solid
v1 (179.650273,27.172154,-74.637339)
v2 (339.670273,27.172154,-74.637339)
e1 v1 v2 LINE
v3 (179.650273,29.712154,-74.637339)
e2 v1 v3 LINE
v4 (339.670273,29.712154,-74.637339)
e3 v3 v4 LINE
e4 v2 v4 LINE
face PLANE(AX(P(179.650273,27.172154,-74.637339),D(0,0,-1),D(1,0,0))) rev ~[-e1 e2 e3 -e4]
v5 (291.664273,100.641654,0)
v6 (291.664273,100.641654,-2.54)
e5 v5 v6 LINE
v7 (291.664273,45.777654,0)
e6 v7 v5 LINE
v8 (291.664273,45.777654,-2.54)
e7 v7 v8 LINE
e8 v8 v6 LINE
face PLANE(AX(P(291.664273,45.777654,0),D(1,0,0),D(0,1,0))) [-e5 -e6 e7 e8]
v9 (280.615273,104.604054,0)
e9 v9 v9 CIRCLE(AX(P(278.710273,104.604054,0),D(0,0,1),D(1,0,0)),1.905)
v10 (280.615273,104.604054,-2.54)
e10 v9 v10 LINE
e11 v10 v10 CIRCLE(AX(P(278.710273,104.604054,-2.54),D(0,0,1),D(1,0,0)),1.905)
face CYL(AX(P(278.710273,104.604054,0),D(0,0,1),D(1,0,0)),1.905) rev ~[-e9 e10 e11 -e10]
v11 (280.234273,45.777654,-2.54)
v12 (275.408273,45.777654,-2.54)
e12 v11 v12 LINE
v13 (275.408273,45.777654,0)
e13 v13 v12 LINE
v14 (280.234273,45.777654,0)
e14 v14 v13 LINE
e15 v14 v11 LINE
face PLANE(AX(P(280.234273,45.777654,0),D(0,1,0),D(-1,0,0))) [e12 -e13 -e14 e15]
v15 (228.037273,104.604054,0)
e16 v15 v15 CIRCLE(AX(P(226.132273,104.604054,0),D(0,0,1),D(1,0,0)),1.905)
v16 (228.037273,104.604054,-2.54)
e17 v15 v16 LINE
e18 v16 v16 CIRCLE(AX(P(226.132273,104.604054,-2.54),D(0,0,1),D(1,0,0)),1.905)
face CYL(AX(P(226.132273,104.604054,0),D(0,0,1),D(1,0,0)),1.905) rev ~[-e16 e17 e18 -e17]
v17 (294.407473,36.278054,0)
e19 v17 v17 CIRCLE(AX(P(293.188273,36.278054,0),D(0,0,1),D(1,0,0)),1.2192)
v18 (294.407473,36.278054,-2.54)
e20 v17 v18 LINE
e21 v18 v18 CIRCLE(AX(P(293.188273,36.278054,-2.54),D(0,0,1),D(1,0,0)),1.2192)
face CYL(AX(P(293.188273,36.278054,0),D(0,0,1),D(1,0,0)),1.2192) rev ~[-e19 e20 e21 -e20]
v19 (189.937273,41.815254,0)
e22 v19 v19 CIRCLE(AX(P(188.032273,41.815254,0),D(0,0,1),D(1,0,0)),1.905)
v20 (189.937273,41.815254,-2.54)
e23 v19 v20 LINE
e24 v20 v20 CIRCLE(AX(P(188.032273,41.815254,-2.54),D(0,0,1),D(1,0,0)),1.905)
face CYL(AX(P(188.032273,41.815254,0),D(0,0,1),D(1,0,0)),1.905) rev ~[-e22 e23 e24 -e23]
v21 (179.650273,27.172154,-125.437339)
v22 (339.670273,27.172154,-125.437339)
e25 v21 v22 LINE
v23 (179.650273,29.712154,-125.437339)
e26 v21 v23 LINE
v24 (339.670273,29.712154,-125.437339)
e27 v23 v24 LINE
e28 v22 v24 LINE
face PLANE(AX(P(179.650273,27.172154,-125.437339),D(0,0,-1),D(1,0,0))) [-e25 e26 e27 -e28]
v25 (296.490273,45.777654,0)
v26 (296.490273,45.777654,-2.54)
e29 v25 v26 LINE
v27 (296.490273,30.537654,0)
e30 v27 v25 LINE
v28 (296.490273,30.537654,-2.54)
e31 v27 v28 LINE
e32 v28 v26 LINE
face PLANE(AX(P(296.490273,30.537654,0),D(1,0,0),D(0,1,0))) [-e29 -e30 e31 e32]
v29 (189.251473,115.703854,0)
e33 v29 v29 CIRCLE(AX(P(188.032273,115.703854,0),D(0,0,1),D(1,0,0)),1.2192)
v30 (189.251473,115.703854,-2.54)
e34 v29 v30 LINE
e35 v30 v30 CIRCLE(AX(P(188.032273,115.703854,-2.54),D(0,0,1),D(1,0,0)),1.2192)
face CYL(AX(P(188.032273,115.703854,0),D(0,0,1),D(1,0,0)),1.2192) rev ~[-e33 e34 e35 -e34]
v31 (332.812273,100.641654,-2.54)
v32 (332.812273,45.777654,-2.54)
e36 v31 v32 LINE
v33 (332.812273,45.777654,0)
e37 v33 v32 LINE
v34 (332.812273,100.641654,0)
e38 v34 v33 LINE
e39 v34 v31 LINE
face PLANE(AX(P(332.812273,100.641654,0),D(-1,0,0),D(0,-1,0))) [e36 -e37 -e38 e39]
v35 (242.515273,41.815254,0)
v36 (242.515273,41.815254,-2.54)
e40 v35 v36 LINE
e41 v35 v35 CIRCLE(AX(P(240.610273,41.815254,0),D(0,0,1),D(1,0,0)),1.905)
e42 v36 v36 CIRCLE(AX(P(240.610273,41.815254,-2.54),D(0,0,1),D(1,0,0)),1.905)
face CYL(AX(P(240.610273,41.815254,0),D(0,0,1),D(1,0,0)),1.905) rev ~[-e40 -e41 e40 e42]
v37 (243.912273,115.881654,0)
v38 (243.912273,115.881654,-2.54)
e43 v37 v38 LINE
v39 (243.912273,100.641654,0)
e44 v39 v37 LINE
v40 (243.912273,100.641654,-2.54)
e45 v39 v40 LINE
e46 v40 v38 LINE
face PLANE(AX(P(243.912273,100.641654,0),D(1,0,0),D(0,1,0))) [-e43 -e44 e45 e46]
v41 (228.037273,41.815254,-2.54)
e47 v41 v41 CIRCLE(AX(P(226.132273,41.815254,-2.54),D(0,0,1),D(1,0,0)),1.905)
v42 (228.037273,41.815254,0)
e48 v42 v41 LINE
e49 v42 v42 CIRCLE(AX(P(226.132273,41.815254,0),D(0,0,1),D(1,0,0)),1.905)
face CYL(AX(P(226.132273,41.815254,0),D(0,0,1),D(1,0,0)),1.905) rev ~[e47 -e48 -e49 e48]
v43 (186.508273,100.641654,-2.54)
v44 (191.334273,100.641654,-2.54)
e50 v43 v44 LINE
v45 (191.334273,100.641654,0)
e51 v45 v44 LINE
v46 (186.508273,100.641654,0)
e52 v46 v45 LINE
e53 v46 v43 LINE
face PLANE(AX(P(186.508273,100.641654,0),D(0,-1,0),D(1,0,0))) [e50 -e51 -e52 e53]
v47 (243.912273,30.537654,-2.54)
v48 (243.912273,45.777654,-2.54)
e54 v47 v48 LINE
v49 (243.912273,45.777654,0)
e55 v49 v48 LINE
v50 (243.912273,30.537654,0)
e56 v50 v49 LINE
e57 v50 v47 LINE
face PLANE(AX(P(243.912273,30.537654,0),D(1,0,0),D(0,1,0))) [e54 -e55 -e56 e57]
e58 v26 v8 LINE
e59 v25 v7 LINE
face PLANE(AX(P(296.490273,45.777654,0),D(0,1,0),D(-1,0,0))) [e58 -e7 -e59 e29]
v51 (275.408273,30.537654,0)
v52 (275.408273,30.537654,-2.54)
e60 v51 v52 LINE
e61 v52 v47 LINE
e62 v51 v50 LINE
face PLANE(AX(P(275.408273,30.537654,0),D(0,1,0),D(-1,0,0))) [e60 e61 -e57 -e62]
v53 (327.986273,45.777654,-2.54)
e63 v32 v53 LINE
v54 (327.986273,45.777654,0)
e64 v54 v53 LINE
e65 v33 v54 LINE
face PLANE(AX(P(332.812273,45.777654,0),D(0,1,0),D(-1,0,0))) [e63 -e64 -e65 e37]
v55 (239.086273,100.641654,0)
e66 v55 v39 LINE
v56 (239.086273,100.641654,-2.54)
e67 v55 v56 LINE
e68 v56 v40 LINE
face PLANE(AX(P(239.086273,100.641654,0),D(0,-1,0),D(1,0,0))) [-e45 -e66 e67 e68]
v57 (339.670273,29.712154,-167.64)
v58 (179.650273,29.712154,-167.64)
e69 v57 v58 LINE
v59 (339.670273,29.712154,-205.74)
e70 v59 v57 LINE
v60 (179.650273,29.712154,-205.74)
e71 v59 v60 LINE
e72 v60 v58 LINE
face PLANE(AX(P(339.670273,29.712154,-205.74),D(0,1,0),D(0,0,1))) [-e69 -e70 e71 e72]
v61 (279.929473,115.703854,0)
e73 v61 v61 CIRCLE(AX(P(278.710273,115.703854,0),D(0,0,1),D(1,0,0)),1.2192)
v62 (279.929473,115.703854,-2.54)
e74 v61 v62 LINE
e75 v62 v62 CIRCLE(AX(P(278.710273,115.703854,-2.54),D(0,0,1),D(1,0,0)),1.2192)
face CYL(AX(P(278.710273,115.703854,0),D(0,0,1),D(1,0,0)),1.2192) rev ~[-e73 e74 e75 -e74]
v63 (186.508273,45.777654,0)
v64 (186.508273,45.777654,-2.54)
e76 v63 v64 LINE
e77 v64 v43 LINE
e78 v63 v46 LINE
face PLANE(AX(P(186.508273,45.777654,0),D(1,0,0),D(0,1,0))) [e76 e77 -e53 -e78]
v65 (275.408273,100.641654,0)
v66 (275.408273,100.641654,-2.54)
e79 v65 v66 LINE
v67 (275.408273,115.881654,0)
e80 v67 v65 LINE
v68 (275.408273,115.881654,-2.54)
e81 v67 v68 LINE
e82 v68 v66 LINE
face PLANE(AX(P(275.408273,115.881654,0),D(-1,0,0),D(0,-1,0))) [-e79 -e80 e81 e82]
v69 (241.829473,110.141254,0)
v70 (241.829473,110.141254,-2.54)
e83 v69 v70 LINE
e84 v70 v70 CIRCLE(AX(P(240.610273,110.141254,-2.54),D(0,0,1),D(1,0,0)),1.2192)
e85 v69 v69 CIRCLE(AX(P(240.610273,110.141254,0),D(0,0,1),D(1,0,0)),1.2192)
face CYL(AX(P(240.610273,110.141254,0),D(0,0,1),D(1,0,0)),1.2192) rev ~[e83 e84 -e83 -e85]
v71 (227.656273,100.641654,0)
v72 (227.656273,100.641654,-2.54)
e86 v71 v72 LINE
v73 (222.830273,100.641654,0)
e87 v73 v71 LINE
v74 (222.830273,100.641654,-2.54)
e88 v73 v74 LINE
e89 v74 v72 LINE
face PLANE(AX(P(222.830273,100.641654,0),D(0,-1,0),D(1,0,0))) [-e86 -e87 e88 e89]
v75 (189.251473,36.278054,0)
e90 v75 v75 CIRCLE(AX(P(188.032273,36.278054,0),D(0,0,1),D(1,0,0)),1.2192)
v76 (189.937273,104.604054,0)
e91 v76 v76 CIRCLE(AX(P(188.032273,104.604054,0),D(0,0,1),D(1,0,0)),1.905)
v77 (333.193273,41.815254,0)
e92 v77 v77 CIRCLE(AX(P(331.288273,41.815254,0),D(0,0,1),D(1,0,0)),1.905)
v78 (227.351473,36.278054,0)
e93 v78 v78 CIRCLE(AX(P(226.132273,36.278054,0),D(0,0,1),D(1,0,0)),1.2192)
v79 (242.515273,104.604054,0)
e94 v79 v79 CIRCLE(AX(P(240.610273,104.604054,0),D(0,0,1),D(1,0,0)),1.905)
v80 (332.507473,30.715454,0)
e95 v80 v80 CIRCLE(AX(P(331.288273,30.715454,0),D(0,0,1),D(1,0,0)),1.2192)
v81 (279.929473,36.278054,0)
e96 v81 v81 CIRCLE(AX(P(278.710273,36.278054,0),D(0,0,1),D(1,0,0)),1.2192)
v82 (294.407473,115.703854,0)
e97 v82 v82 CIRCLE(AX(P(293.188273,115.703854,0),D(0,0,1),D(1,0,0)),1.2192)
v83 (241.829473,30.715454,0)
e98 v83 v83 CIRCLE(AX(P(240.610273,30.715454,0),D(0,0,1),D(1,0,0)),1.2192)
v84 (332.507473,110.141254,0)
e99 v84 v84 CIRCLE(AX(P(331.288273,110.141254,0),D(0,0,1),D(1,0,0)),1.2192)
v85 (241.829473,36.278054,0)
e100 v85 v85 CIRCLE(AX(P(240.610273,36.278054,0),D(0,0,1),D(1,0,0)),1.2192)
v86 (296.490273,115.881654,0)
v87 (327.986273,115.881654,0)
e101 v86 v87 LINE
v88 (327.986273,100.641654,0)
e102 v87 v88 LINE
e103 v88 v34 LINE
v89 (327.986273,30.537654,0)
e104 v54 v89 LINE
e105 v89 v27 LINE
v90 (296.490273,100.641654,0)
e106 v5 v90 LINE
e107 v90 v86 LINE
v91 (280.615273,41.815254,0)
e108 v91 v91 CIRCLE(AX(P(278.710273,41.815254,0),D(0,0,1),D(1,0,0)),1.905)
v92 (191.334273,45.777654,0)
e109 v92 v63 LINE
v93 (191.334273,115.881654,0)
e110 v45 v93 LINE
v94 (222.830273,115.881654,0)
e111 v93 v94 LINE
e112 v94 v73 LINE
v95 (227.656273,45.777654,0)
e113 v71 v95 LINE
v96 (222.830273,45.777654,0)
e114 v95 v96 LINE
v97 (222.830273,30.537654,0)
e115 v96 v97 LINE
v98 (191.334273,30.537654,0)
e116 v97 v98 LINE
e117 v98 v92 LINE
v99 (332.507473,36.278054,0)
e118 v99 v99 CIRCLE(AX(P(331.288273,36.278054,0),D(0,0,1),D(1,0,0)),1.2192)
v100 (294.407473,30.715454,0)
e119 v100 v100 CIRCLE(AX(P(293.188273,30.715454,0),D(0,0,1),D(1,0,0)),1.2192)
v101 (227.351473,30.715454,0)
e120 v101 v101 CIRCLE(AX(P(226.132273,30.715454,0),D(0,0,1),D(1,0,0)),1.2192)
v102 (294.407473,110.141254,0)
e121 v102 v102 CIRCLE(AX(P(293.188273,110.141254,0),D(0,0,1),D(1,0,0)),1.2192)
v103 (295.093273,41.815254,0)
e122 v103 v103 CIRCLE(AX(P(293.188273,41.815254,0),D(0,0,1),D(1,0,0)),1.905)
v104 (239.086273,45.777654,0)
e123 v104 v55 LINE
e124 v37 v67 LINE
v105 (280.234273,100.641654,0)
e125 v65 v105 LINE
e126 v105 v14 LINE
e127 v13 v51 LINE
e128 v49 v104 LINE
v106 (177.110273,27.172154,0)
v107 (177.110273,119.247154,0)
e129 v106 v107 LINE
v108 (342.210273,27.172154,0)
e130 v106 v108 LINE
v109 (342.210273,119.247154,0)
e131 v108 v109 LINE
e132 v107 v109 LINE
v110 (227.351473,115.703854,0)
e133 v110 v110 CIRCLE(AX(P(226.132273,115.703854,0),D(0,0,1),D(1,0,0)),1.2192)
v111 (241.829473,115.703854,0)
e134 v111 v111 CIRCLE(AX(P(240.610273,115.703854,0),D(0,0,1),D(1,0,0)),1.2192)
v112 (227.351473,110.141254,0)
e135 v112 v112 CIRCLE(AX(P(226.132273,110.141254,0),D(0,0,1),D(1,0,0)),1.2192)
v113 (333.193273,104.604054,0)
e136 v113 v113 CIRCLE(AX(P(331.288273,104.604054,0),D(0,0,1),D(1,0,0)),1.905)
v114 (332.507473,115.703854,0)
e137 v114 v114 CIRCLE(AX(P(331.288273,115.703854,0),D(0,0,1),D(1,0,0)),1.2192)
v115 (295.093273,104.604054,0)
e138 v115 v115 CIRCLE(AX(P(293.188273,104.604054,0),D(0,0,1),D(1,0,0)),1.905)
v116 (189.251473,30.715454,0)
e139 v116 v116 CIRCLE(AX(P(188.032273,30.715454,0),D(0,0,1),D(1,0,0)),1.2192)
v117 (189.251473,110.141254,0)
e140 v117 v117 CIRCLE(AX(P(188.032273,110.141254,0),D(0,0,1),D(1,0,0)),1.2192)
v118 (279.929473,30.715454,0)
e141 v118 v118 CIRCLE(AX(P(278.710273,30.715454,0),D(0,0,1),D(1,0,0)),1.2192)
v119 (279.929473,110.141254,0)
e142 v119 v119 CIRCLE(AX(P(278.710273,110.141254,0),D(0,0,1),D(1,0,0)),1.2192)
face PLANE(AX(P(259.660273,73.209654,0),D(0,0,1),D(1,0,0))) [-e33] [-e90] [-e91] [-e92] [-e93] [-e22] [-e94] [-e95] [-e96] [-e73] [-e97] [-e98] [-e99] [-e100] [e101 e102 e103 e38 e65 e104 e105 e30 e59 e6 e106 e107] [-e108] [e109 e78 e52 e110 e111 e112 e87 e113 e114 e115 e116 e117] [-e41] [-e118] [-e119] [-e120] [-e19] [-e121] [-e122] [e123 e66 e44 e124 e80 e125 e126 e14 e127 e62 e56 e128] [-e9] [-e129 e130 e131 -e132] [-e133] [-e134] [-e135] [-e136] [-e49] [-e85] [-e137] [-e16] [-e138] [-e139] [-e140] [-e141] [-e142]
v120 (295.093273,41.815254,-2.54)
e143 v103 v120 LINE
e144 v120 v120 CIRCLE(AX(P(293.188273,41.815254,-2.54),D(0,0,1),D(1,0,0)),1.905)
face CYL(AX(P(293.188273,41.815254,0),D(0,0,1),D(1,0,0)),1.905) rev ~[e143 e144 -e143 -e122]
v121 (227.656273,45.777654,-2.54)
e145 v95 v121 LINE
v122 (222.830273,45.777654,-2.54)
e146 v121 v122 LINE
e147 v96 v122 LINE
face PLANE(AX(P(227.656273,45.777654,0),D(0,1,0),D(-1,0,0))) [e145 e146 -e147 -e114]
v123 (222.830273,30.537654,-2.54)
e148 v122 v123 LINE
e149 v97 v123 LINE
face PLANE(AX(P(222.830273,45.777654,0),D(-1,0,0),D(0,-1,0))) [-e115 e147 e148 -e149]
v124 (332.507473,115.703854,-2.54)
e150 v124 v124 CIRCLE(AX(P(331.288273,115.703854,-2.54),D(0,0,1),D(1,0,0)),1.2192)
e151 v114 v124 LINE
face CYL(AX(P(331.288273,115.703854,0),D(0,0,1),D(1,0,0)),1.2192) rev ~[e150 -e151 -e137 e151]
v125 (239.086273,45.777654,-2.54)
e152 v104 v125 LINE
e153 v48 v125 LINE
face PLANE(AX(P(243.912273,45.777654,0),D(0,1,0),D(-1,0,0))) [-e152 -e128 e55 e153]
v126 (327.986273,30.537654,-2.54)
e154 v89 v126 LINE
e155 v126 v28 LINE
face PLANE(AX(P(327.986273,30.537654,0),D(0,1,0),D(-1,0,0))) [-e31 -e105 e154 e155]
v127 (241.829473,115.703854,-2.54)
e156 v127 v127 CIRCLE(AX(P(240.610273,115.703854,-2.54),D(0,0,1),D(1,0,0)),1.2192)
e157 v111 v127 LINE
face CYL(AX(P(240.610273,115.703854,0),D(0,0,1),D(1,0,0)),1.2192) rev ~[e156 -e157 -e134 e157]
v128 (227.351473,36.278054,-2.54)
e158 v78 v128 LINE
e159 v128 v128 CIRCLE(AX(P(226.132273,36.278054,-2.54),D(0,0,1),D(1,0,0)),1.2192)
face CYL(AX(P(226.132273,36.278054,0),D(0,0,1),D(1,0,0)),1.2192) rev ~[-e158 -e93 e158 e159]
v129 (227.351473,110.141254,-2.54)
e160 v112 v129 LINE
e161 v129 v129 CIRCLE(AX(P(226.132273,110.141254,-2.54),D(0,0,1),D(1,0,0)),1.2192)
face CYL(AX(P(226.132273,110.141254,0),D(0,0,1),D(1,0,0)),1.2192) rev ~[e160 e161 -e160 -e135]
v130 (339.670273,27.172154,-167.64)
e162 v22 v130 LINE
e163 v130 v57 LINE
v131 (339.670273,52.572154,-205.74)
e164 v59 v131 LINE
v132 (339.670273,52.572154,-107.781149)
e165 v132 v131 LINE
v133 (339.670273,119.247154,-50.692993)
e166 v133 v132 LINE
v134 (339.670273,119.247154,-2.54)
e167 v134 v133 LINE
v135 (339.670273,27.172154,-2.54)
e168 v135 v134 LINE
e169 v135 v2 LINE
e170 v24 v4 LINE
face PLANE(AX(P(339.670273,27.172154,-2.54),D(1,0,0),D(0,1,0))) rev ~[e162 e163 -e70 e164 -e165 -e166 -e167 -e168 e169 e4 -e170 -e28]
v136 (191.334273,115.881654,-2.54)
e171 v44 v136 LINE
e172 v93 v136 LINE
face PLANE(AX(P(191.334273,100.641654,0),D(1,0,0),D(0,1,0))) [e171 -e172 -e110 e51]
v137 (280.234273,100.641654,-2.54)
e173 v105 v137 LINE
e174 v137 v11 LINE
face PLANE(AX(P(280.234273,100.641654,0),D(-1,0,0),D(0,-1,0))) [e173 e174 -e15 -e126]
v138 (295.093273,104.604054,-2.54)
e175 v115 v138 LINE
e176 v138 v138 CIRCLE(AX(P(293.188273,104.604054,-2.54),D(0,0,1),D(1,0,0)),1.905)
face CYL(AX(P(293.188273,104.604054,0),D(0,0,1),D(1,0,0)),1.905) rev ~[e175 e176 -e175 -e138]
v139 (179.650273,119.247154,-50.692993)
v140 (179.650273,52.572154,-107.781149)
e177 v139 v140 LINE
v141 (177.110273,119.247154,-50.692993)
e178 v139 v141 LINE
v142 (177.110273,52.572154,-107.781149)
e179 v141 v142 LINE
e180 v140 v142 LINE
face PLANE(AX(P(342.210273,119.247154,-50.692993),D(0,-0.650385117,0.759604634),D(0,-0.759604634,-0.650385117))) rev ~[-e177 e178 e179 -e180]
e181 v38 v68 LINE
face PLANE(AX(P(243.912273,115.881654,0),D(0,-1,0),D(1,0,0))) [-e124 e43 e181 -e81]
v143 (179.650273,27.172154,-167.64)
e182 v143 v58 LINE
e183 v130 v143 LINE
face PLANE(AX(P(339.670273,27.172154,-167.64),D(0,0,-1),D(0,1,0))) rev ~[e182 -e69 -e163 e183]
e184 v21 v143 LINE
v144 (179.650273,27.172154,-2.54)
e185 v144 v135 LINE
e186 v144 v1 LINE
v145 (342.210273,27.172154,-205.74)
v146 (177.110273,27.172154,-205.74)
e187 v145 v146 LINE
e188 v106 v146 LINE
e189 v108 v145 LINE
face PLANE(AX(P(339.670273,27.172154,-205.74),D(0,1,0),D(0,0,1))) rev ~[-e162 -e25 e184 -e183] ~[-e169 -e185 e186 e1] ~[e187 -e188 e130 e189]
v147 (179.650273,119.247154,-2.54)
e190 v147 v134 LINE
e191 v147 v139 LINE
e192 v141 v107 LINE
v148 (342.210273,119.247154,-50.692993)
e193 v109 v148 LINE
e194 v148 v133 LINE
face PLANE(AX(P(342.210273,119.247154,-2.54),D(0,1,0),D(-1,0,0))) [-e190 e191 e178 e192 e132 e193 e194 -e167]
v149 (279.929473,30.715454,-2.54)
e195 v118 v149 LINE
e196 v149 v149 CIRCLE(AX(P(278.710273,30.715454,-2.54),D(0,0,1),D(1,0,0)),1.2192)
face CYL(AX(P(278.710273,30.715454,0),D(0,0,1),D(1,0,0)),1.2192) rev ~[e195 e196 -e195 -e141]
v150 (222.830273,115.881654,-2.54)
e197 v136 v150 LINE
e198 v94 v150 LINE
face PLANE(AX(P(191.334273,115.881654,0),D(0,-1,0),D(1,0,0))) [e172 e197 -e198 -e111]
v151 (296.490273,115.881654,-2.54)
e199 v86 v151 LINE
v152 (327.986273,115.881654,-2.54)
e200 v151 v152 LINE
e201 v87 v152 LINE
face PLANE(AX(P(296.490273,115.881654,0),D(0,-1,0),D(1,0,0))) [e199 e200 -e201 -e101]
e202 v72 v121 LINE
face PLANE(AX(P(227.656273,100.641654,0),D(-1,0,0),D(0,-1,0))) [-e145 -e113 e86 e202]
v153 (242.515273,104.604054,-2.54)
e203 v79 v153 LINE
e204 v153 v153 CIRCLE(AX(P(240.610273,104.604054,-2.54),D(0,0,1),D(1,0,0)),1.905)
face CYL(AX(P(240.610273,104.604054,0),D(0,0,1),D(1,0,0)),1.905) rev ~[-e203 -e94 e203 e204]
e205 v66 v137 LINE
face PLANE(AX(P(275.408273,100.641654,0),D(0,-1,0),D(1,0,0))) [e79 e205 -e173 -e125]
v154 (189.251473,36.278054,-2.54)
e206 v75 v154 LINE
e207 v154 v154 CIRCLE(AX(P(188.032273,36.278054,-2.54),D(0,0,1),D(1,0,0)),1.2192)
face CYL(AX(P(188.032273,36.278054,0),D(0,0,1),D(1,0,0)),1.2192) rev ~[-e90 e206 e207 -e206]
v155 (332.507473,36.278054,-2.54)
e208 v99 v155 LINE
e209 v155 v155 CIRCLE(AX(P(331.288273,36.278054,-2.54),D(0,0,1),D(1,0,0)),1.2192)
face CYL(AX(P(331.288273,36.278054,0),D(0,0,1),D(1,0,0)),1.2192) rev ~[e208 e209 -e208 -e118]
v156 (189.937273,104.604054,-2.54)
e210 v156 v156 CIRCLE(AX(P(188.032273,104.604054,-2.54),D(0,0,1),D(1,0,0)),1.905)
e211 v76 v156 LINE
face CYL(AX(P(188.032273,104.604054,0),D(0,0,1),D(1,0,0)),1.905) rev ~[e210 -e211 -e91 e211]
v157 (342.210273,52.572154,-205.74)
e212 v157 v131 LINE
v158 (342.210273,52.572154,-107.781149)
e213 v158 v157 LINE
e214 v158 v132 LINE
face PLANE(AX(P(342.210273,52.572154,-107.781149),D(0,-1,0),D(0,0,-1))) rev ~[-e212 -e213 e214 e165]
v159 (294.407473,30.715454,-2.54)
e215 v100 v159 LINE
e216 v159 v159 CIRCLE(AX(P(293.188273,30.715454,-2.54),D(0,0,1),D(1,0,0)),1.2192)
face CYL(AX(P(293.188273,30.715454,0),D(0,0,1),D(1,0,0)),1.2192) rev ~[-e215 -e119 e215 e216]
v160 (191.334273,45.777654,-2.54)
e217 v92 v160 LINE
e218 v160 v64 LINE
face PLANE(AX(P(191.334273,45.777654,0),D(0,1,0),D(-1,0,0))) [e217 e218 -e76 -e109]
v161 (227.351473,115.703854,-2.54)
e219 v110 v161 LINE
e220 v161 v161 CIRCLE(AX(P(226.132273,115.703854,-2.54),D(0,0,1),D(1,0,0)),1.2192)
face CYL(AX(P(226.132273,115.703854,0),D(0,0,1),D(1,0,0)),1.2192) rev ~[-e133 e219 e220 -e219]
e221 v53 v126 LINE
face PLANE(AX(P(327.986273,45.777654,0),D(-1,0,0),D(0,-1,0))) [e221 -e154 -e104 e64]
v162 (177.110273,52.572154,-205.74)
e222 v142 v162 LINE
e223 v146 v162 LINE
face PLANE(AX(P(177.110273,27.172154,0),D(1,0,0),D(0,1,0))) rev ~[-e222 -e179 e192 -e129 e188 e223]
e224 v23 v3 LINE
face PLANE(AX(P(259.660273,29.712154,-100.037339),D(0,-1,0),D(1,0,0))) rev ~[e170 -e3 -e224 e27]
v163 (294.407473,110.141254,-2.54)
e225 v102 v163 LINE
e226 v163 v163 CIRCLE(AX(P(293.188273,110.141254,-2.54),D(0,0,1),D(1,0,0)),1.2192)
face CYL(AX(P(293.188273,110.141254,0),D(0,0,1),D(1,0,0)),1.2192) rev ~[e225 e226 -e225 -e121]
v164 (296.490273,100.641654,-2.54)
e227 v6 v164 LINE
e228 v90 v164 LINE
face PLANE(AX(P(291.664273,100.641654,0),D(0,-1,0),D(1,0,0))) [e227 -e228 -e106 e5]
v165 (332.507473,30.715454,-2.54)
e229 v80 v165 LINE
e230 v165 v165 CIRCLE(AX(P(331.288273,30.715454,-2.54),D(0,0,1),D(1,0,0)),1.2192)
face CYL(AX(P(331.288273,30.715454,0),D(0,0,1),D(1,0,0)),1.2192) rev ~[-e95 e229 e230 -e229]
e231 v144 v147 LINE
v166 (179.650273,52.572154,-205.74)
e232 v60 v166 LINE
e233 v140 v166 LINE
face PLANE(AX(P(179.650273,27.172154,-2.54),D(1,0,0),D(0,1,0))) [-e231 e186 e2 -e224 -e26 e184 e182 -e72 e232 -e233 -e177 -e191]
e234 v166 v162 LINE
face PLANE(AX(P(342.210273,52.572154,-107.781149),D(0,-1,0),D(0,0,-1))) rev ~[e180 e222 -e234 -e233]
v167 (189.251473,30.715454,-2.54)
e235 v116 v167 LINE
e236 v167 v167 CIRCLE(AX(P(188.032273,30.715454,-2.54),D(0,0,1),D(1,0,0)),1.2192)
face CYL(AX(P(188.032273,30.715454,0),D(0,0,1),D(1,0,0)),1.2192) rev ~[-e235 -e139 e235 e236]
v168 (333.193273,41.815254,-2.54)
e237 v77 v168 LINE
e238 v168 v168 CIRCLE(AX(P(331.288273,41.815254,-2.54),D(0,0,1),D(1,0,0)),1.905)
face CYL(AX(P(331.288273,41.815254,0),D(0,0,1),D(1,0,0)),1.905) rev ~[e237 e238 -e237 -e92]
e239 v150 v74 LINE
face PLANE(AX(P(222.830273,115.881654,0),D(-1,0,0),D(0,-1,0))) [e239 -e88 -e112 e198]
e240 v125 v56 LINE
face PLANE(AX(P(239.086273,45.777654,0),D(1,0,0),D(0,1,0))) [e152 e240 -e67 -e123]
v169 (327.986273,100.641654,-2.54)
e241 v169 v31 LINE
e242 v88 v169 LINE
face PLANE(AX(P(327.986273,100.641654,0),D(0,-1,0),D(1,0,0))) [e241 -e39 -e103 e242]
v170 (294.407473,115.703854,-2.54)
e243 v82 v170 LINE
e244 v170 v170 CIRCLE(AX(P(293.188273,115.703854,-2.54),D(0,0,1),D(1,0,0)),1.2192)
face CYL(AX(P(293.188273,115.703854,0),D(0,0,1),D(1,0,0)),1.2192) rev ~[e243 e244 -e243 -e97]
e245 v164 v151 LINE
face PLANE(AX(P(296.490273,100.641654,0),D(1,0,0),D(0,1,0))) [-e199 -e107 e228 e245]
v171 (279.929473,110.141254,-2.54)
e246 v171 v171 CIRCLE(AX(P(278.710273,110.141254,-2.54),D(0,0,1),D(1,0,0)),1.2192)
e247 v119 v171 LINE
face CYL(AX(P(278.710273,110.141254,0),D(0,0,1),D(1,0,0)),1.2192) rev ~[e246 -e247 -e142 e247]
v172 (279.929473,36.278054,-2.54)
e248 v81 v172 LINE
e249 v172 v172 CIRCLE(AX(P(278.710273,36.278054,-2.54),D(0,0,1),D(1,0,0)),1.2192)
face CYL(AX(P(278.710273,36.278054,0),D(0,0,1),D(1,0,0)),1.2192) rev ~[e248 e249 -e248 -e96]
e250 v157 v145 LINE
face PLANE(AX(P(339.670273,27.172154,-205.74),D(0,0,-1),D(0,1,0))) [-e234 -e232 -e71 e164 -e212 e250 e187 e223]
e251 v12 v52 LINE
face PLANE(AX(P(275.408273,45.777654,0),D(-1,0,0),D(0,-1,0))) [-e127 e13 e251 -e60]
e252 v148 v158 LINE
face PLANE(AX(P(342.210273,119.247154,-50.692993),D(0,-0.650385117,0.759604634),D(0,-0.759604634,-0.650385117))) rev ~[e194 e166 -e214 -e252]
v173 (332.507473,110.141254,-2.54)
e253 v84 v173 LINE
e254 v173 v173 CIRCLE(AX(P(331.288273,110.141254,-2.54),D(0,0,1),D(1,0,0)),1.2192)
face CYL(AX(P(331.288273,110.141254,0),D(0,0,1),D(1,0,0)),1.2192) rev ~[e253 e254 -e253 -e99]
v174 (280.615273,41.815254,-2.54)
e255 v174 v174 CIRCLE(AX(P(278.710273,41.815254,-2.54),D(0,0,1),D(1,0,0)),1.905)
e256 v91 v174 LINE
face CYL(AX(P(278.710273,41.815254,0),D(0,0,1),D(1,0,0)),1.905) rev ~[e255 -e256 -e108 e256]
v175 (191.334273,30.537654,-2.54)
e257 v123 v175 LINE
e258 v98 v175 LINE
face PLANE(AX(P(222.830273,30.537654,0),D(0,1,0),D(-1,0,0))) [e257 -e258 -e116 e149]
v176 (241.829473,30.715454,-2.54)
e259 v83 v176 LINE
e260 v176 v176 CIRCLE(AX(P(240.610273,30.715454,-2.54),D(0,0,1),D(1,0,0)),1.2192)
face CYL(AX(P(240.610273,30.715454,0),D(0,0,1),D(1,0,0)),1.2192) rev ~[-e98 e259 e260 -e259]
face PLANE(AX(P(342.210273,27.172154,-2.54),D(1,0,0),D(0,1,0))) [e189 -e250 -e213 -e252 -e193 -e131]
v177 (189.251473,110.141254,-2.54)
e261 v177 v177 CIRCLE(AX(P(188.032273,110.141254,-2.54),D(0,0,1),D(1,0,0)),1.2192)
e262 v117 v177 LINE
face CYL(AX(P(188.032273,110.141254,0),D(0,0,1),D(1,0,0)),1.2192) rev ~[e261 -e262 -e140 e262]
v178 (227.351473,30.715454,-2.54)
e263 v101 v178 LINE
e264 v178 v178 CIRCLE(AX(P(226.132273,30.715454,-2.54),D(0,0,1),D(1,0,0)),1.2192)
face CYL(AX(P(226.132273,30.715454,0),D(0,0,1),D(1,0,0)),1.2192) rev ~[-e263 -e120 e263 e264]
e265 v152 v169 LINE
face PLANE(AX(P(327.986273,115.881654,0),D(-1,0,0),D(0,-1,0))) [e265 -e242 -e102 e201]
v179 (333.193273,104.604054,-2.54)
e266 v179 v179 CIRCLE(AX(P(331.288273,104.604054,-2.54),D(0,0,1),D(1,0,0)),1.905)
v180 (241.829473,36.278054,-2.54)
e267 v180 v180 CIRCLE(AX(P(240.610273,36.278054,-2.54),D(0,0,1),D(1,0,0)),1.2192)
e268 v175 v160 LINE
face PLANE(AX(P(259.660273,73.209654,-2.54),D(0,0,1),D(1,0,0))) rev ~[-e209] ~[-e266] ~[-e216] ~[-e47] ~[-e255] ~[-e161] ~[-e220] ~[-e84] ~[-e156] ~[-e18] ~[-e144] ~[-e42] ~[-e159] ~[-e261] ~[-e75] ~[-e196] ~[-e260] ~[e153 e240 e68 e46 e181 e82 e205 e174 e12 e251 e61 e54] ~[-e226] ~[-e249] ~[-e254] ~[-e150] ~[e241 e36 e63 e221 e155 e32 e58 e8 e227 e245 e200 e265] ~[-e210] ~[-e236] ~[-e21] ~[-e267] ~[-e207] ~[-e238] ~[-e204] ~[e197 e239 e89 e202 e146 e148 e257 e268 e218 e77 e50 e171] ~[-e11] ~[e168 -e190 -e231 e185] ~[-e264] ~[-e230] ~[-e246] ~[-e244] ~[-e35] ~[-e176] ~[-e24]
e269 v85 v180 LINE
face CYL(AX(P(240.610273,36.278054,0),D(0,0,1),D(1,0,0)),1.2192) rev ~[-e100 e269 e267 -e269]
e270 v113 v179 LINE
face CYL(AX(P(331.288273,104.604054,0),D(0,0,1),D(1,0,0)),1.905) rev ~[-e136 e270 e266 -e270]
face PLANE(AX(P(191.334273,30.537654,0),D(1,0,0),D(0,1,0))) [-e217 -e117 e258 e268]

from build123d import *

# Parameters (mm, degrees)
SKETCH1_W               = 165.1
SKETCH1_H               = 92.075
BOSS_EXTRUDE1_DEPTH     = 2.54
SKETCH2_R               = 1.905
SKETCH2_R_2             = 1.2192
CUT_EXTRUDE1_DEPTH      = 2.54
SKETCH4_W               = 2.54
SKETCH4_H               = 92.075
BOSS_EXTRUDE3_DEPTH     = 203.2
SKETCH6_W               = 38.1
SKETCH6_H               = 2.54
BOSS_EXTRUDE4_DEPTH     = 160.02
SKETCH7_W               = 160.02
SKETCH7_H               = 50.8
BOSS_EXTRUDE5_DEPTH     = 2.54
CUT_EXTRUDE2_DEPTH      = 1
CUT_EXTRUDE2_DEPTH_BACK = 166.1


with BuildPart() as part:
    # Sketch1 → Boss-Extrude1 (new body)
    with BuildSketch(Plane.XY):
        with Locations((259.660273445, 73.209654415)):
            Rectangle(SKETCH1_W, SKETCH1_H)
    extrude(amount=-BOSS_EXTRUDE1_DEPTH)

    # Sketch2 → Cut-Extrude1 (cut)
    with BuildSketch(Plane.XY):
        with Locations((188.032273445, 41.815254415)):
            Circle(SKETCH2_R)
        with Locations((226.132273445, 104.604054415)):
            Circle(SKETCH2_R)
        with Locations((188.032273445, 104.604054415)):
            Circle(SKETCH2_R)
        with Locations((188.032273445, 36.278054415)):
            Circle(SKETCH2_R_2)
        with Locations((188.032273445, 30.715454415)):
            Circle(SKETCH2_R_2)
        with Locations((226.132273445, 41.815254415)):
            Circle(SKETCH2_R)
        with Locations((226.132273445, 36.278054415)):
            Circle(SKETCH2_R_2)
        with Locations((226.132273445, 30.715454415)):
            Circle(SKETCH2_R_2)
        with Locations((226.132273445, 110.141254415)):
            Circle(SKETCH2_R_2)
        with Locations((226.132273445, 115.703854415)):
            Circle(SKETCH2_R_2)
        with Locations((188.032273445, 110.141254415)):
            Circle(SKETCH2_R_2)
        with Locations((188.032273445, 115.703854415)):
            Circle(SKETCH2_R_2)
        with Locations((240.610273445, 41.815254415)):
            Circle(SKETCH2_R)
        with Locations((278.710273445, 104.604054415)):
            Circle(SKETCH2_R)
        with Locations((240.610273445, 104.604054415)):
            Circle(SKETCH2_R)
        with Locations((240.610273445, 36.278054415)):
            Circle(SKETCH2_R_2)
        with Locations((240.610273445, 30.715454415)):
            Circle(SKETCH2_R_2)
        with Locations((278.710273445, 41.815254415)):
            Circle(SKETCH2_R)
        with Locations((278.710273445, 36.278054415)):
            Circle(SKETCH2_R_2)
        with Locations((278.710273445, 30.715454415)):
            Circle(SKETCH2_R_2)
        with Locations((278.710273445, 110.141254415)):
            Circle(SKETCH2_R_2)
        with Locations((278.710273445, 115.703854415)):
            Circle(SKETCH2_R_2)
        with Locations((240.610273445, 110.141254415)):
            Circle(SKETCH2_R_2)
        with Locations((240.610273445, 115.703854415)):
            Circle(SKETCH2_R_2)
        with Locations((293.188273445, 41.815254415)):
            Circle(SKETCH2_R)
        with Locations((331.288273445, 104.604054415)):
            Circle(SKETCH2_R)
        with Locations((293.188273445, 104.604054415)):
            Circle(SKETCH2_R)
        with Locations((293.188273445, 36.278054415)):
            Circle(SKETCH2_R_2)
        with Locations((293.188273445, 30.715454415)):
            Circle(SKETCH2_R_2)
        with Locations((331.288273445, 41.815254415)):
            Circle(SKETCH2_R)
        with Locations((331.288273445, 36.278054415)):
            Circle(SKETCH2_R_2)
        with Locations((331.288273445, 30.715454415)):
            Circle(SKETCH2_R_2)
        with Locations((331.288273445, 110.141254415)):
            Circle(SKETCH2_R_2)
        with Locations((331.288273445, 115.703854415)):
            Circle(SKETCH2_R_2)
        with Locations((293.188273445, 110.141254415)):
            Circle(SKETCH2_R_2)
        with Locations((293.188273445, 115.703854415)):
            Circle(SKETCH2_R_2)
        Polygon((191.334273445, 115.881654415), (222.830273445, 115.881654415), (222.830273445, 100.641654415), (227.656273445, 100.641654415), (227.656273445, 45.777654415), (222.830273445, 45.777654415), (222.830273445, 30.537654415), (191.334273445, 30.537654415), (191.334273445, 45.777654415), (186.508273445, 45.777654415), (186.508273445, 100.641654415), (191.334273445, 100.641654415), align=None)
        Polygon((243.912273445, 115.881654415), (275.408273445, 115.881654415), (275.408273445, 100.641654415), (280.234273445, 100.641654415), (280.234273445, 45.777654415), (275.408273445, 45.777654415), (275.408273445, 30.537654415), (243.912273445, 30.537654415), (243.912273445, 45.777654415), (239.086273445, 45.777654415), (239.086273445, 100.641654415), (243.912273445, 100.641654415), align=None)
        Polygon((296.490273445, 115.881654415), (327.986273445, 115.881654415), (327.986273445, 100.641654415), (332.812273445, 100.641654415), (332.812273445, 45.777654415), (327.986273445, 45.777654415), (327.986273445, 30.537654415), (296.490273445, 30.537654415), (296.490273445, 45.777654415), (291.664273445, 45.777654415), (291.664273445, 100.641654415), (296.490273445, 100.641654415), align=None)
    extrude(amount=-CUT_EXTRUDE1_DEPTH, mode=Mode.SUBTRACT)

    # Sketch4 → Boss-Extrude3 (add)
    with BuildSketch(Plane(origin=(0, 0, -2.54), x_dir=(-1, 0, 0), z_dir=(0, 0, -1))):
        with Locations((-340.940273445, 73.209654415)):
            Rectangle(SKETCH4_W, SKETCH4_H)
        with Locations((-178.380273445, 73.209654415)):
            Rectangle(SKETCH4_W, SKETCH4_H)
    extrude(amount=BOSS_EXTRUDE3_DEPTH)

    # Sketch6 → Boss-Extrude4 (add)
    with BuildSketch(Plane.ZY.offset(-339.670273445)):
        with Locations((-186.69, 28.442154415)):
            Rectangle(SKETCH6_W, SKETCH6_H)
    extrude(amount=BOSS_EXTRUDE4_DEPTH)

    # Sketch7 → Boss-Extrude5 (add)
    with BuildSketch(Plane.XZ.offset(-27.172154415)):
        with Locations((259.660273445, -100.037339466)):
            Rectangle(SKETCH7_W, SKETCH7_H)
    extrude(amount=-BOSS_EXTRUDE5_DEPTH)

    # Sketch8 → Cut-Extrude2 (cut, two sides)
    with BuildSketch(Plane(origin=(342.210273445, 0, 0), x_dir=(0, 0, -1), z_dir=(1, 0, 0))) as cut_extrude2_sk:
        Polygon((205.74, 119.247154415), (50.692993011, 119.247154415), (107.781148805, 52.572154415), (205.74, 52.572154415), align=None)
    extrude(amount=CUT_EXTRUDE2_DEPTH, mode=Mode.SUBTRACT)
    extrude(cut_extrude2_sk.sketch, amount=-CUT_EXTRUDE2_DEPTH_BACK, mode=Mode.SUBTRACT)


solid = part.part
